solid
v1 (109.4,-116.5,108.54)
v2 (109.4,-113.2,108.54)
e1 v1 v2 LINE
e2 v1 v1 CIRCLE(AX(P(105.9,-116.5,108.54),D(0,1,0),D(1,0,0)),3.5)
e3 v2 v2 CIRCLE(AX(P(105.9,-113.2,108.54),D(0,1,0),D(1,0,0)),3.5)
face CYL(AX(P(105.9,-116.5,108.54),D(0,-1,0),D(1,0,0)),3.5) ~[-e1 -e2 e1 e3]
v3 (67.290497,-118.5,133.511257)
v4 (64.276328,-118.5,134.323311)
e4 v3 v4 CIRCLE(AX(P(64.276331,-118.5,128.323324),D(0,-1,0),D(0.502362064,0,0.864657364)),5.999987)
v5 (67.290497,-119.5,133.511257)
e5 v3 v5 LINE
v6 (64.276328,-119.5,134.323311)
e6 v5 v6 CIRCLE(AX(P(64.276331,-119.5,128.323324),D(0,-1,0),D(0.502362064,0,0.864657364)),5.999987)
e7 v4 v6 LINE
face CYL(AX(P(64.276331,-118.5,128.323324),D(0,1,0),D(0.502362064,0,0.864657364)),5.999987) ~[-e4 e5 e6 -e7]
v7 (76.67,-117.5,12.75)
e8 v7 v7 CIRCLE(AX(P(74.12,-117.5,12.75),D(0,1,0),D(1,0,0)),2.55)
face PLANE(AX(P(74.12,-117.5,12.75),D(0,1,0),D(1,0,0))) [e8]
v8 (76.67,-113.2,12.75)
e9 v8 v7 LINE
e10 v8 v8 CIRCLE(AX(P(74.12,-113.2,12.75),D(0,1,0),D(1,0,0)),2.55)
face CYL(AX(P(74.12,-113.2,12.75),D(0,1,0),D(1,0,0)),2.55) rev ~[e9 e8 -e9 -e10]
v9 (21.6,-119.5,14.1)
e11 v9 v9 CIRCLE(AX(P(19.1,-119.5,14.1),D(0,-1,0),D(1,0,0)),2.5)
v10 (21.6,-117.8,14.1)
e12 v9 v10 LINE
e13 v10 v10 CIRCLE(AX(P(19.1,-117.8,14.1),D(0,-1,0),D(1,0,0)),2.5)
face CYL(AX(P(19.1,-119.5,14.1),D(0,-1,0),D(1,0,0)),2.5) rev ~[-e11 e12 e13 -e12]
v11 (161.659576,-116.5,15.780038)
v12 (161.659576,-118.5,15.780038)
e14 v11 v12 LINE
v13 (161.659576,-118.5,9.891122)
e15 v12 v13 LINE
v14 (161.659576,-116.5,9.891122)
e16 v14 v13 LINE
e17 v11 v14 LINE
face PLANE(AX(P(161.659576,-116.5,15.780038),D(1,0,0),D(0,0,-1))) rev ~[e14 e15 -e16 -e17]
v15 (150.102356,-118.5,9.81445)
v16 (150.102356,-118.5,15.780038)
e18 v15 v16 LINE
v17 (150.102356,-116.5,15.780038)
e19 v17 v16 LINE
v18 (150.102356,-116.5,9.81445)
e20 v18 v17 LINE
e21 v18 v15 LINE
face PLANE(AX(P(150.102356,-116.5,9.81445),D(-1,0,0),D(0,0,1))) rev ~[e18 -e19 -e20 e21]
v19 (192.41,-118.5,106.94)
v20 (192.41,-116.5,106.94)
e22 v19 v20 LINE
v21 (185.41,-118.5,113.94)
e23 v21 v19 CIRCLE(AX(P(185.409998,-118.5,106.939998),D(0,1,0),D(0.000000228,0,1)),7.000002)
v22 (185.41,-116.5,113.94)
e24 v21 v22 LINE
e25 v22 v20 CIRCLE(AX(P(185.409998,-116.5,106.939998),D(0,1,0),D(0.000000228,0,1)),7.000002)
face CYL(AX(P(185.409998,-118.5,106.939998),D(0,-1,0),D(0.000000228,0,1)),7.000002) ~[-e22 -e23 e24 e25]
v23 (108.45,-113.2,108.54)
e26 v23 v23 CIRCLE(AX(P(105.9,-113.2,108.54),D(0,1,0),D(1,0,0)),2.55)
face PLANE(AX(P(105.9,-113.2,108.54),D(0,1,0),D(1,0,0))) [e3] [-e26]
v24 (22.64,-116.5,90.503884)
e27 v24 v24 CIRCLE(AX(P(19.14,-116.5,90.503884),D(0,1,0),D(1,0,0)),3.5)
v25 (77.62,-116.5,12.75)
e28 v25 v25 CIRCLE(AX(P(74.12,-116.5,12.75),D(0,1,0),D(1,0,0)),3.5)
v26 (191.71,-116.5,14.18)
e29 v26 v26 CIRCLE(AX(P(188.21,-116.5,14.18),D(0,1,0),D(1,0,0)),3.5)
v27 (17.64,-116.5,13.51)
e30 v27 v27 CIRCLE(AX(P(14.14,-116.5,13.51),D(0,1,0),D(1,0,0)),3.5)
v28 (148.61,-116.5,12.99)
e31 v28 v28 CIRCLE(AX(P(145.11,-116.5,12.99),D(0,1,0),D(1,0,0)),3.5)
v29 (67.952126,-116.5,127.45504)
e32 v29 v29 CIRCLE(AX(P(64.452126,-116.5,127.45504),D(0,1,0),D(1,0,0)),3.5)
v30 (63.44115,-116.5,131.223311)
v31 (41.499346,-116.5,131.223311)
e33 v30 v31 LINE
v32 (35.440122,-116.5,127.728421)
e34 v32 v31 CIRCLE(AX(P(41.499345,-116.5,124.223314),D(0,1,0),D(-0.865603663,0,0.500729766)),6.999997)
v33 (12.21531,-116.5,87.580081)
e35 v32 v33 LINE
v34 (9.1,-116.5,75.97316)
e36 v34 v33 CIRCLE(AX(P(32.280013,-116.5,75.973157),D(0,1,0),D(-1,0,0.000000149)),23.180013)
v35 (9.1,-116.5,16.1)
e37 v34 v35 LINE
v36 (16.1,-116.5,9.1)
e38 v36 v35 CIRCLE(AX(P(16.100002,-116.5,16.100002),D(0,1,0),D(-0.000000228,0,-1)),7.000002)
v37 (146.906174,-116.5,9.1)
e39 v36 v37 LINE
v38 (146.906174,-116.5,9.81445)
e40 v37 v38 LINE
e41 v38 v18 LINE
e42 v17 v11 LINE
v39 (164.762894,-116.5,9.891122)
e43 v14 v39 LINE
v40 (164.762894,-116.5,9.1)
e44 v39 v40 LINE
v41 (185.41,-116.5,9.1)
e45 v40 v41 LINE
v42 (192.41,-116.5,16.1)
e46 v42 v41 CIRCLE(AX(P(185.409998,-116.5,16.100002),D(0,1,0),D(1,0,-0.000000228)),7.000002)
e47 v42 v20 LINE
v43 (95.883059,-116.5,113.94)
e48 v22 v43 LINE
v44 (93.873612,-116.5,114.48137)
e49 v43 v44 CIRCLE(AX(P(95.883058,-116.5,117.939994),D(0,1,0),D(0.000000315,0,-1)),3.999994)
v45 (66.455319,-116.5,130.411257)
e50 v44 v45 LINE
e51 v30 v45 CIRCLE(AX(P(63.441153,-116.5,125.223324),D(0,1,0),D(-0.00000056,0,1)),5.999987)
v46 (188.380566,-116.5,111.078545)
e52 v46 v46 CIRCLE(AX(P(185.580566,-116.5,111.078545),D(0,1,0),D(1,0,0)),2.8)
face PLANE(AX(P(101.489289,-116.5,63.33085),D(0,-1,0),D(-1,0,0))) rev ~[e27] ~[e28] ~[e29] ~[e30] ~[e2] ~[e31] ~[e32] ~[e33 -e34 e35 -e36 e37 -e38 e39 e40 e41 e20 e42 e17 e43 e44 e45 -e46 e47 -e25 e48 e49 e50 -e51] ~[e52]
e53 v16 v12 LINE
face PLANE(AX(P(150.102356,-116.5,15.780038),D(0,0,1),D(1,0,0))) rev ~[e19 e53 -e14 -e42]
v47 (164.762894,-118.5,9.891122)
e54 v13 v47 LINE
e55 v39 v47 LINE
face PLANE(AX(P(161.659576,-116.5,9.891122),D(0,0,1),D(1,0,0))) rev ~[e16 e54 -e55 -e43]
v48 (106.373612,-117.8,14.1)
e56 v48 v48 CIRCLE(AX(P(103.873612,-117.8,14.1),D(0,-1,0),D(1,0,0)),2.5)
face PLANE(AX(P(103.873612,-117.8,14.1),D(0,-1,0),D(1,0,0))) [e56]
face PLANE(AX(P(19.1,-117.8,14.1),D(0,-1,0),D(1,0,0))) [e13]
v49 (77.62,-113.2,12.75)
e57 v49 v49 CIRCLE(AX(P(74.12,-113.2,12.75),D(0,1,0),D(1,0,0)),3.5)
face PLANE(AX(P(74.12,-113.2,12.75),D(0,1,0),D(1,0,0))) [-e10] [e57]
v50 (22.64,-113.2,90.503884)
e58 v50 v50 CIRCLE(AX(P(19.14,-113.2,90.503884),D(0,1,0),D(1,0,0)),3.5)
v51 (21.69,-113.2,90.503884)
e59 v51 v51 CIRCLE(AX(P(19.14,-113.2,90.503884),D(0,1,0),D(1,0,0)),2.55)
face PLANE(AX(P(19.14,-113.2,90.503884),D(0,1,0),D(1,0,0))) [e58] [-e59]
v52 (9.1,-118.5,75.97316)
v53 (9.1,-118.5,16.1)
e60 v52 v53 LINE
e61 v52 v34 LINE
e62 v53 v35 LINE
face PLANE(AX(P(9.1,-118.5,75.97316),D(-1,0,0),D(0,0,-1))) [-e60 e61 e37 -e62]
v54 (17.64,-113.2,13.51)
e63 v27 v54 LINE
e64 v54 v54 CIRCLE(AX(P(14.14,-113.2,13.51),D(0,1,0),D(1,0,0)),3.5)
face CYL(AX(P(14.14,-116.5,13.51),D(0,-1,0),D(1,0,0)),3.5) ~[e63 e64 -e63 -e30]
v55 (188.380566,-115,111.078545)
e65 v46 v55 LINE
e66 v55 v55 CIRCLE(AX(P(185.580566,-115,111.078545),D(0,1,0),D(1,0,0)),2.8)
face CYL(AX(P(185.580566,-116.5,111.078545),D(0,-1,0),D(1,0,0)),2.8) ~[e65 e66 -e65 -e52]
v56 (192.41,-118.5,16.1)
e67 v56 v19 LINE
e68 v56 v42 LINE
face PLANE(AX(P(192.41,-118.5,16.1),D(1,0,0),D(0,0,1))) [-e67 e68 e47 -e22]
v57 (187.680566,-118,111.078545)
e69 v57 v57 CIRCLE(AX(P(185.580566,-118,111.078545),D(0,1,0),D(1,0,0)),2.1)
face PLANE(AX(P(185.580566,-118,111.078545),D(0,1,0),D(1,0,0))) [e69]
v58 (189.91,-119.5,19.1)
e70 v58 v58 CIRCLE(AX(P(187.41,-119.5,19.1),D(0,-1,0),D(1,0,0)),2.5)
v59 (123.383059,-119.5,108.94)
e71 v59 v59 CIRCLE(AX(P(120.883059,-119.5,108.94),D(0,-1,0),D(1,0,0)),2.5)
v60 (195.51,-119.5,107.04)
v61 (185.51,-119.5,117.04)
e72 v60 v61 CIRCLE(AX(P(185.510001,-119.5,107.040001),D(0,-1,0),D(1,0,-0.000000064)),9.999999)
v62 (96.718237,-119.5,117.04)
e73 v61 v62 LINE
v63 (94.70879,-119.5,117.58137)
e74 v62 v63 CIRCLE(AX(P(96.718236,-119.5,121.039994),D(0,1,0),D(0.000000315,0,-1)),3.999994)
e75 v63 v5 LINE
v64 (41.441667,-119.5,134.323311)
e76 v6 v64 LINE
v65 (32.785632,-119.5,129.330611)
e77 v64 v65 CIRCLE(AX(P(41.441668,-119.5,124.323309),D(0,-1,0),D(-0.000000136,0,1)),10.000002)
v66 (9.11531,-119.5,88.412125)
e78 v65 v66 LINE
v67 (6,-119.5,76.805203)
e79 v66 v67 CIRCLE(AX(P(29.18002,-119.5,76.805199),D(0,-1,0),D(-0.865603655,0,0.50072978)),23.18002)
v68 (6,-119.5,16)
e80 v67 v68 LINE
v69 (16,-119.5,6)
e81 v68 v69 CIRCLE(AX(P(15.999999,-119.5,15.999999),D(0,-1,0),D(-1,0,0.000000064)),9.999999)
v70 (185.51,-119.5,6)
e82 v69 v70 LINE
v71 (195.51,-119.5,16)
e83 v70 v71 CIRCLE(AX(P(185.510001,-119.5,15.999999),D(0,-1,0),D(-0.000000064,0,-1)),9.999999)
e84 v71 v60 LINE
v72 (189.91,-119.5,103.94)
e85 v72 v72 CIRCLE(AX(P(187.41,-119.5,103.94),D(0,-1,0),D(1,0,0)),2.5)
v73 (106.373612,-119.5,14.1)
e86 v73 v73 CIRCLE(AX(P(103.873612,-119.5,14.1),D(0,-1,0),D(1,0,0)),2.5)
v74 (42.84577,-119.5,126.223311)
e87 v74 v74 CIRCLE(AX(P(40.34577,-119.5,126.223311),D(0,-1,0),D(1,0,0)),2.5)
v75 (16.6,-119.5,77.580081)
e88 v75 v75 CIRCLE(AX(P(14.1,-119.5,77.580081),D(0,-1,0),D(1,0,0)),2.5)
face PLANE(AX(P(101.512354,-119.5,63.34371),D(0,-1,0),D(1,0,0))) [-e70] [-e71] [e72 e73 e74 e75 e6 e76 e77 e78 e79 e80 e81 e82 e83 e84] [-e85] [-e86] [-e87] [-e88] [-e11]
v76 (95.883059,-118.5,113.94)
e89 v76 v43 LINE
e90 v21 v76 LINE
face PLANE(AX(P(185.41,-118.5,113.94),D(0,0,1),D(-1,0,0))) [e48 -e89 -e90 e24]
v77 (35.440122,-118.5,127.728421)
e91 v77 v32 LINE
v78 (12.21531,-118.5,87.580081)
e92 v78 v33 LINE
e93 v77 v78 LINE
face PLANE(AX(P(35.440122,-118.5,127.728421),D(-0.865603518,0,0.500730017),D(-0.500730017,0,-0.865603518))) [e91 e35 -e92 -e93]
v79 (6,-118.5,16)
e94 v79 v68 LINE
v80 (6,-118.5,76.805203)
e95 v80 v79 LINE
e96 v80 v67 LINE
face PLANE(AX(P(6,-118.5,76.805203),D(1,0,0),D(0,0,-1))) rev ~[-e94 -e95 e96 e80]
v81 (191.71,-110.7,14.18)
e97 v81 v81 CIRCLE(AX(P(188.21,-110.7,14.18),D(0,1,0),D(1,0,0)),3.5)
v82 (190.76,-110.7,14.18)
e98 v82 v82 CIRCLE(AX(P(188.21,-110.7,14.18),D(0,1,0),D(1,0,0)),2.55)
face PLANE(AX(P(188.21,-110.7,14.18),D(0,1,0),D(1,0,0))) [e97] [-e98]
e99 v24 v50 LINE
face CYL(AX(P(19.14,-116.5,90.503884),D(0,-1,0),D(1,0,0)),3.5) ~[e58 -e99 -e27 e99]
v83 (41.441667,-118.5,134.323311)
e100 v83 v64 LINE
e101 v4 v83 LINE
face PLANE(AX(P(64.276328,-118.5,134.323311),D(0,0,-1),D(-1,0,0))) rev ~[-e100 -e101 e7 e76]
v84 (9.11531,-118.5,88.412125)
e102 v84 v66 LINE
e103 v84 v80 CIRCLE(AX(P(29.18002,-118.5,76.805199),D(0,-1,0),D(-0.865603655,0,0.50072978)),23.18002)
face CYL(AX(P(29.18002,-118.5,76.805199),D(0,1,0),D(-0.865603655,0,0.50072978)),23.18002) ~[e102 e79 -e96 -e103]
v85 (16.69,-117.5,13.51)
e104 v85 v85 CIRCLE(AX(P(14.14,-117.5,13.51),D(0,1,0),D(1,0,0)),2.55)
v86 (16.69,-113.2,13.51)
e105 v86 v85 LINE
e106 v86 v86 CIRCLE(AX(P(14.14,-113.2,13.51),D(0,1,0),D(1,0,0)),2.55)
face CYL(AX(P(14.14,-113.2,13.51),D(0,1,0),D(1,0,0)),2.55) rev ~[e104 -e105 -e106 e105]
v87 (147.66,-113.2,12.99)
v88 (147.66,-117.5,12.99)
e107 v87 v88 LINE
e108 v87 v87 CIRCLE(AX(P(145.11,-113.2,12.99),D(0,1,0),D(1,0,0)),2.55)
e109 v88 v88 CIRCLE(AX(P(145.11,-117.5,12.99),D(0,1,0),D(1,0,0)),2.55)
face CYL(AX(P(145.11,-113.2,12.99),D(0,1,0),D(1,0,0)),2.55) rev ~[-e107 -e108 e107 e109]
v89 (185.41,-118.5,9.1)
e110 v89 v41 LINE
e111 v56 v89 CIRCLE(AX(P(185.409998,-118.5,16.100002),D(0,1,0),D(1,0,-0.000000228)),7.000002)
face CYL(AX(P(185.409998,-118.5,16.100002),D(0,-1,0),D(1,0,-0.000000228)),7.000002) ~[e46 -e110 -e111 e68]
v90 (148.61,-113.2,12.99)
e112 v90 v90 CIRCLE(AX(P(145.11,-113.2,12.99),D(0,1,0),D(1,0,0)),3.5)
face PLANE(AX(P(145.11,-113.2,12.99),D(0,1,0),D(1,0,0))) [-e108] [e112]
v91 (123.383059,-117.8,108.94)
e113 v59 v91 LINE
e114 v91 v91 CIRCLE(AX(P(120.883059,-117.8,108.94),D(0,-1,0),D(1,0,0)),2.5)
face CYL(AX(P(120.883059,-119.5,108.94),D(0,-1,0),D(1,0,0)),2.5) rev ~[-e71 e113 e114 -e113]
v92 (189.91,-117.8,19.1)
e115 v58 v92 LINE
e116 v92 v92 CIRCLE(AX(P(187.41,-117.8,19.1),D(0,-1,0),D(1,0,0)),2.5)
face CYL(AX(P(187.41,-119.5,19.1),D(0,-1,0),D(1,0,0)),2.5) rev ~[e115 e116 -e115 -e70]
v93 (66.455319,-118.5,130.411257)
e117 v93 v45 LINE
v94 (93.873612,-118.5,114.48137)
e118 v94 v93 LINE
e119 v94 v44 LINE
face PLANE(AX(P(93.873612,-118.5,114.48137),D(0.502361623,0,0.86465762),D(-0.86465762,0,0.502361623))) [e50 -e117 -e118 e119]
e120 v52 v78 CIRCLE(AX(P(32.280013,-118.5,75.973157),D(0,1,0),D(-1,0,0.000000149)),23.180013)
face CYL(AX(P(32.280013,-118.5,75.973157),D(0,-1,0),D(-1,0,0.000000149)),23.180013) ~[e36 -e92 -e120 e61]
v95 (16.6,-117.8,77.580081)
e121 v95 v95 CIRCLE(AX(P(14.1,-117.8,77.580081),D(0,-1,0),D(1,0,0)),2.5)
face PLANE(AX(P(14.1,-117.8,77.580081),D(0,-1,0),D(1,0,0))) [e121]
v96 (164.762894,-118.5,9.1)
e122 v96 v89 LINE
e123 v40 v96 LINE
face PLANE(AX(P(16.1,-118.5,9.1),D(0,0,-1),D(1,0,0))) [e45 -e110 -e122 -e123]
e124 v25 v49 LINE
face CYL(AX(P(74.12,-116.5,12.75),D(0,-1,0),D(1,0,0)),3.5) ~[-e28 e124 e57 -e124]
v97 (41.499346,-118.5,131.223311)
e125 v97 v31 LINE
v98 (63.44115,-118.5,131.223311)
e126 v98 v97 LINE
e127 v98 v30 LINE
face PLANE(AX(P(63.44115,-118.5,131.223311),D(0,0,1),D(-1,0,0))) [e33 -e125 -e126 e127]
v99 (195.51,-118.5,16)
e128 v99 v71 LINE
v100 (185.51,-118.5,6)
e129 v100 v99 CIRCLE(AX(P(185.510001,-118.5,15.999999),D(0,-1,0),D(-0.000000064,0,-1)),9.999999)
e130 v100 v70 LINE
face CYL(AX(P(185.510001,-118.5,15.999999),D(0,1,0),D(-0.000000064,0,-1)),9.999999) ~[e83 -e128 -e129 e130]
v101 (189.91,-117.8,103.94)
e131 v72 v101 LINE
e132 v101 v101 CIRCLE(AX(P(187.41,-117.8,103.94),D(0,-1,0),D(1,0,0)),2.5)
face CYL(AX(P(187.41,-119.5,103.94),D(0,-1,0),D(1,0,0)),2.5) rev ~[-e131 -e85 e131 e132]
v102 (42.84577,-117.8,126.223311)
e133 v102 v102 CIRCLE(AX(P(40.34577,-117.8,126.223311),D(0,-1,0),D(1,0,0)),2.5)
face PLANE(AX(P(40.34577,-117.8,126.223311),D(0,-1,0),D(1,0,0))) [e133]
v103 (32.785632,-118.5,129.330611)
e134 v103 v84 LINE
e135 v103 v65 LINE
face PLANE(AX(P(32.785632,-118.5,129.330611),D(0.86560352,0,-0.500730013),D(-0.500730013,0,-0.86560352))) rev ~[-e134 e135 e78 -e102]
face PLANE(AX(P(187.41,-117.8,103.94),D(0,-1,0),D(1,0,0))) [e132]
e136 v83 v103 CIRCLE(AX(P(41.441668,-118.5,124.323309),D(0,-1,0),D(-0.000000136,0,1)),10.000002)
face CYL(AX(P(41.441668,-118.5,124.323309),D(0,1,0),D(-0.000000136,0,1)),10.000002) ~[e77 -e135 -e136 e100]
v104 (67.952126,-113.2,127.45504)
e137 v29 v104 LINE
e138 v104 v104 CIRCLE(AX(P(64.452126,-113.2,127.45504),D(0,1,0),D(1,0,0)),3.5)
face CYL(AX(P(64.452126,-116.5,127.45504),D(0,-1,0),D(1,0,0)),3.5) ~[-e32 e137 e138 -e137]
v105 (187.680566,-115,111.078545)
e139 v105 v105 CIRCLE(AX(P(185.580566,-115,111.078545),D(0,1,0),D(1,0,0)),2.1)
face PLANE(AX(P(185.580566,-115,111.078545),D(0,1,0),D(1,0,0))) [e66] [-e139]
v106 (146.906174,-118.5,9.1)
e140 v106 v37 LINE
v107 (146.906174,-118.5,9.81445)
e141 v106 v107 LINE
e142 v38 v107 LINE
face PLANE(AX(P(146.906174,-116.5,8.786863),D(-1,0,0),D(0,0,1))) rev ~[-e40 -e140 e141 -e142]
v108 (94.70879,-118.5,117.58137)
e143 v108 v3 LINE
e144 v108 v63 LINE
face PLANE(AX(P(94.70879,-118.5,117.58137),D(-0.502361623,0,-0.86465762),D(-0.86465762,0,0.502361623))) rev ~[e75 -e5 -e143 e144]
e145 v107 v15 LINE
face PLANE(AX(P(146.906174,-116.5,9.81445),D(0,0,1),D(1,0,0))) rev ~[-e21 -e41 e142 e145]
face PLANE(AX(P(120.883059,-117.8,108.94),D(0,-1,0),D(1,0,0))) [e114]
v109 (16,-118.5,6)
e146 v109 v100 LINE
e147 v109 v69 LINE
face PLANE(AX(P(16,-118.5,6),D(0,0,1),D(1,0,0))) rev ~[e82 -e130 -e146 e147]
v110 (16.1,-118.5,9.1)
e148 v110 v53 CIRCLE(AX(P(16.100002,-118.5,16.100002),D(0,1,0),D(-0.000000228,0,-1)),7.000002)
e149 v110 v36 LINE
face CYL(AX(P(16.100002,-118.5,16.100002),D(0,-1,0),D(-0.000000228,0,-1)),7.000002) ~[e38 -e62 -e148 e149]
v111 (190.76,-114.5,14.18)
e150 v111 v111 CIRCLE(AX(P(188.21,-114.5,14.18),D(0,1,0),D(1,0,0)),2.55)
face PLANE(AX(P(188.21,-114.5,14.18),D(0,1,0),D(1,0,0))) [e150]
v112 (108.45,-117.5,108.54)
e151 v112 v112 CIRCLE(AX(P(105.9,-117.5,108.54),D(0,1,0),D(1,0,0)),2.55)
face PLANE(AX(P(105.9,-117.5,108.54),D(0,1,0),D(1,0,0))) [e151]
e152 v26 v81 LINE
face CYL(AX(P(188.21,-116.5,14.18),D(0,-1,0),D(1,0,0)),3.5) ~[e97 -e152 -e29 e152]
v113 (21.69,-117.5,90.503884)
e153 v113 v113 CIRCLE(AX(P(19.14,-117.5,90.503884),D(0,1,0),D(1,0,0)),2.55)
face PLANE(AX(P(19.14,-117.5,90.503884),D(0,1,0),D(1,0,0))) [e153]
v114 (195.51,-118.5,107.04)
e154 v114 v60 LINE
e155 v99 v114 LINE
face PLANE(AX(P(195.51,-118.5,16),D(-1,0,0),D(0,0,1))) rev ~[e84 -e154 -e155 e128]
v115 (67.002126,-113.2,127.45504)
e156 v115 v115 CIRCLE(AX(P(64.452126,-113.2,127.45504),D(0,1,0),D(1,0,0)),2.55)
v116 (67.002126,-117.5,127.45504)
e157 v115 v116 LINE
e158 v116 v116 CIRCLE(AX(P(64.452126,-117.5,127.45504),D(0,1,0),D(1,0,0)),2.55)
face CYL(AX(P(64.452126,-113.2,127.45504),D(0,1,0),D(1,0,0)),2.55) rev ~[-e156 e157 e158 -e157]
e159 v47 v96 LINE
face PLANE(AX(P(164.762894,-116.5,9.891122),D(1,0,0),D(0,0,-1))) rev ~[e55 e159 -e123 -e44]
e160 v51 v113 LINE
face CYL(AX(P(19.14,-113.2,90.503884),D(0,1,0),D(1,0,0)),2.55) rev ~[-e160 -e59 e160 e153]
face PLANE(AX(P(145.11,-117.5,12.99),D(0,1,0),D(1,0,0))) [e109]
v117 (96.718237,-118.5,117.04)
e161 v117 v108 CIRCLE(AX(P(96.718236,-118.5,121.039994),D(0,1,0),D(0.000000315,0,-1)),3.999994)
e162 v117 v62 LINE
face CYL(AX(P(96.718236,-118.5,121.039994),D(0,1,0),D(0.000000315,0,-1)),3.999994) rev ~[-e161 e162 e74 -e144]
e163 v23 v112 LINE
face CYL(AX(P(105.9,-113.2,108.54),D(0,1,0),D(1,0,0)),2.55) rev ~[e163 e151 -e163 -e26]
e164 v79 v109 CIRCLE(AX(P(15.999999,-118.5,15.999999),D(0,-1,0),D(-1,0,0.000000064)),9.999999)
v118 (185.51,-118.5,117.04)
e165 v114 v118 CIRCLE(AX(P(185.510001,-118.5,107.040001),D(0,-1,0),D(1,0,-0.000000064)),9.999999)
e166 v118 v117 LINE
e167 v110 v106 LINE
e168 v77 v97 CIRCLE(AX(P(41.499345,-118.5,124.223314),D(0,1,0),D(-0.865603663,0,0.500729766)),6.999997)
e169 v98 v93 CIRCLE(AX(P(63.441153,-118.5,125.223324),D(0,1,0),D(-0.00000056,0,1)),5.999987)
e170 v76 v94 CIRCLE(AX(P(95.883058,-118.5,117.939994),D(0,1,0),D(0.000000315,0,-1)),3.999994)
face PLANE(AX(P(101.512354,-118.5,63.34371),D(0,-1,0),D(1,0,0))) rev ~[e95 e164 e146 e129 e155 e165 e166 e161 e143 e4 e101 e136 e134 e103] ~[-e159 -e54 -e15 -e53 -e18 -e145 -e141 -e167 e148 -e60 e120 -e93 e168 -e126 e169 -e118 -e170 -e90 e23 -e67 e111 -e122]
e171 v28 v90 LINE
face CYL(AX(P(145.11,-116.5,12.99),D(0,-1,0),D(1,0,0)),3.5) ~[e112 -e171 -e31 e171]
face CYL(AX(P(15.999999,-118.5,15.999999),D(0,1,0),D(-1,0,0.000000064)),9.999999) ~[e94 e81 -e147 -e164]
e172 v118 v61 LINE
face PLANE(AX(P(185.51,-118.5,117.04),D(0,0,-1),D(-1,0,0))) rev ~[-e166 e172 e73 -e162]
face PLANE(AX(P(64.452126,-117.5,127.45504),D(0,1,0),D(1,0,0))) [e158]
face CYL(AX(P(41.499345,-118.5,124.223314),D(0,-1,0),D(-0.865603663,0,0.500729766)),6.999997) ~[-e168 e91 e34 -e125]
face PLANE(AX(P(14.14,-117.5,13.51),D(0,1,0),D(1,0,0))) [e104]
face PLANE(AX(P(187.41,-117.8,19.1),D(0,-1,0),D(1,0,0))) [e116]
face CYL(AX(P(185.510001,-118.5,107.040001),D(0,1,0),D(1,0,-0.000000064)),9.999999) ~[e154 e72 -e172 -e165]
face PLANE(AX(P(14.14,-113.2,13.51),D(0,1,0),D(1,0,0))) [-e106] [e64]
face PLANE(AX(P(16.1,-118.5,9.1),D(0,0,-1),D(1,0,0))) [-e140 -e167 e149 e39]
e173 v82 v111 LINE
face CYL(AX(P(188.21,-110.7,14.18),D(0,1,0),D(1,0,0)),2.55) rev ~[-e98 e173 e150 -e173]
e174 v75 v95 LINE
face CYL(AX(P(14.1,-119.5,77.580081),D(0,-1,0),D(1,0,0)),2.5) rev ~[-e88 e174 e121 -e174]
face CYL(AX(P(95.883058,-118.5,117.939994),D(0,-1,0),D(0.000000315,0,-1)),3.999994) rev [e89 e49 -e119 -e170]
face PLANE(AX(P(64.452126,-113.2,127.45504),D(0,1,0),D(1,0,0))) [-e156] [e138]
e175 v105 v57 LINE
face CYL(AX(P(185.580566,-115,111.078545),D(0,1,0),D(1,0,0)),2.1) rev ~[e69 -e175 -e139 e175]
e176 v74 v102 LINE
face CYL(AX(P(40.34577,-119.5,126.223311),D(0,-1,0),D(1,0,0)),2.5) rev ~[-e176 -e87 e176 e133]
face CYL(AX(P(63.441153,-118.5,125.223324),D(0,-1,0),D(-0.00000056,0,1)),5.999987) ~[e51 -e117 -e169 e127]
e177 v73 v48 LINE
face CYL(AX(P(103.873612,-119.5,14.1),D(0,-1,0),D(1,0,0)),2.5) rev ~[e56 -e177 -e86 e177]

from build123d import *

# Parameters (mm, degrees)
PAD017_DEPTH    = 1
PAD018_DEPTH    = 2
SKETCH041_R     = 3.5
PAD019_DEPTH    = 3.3
SKETCH042_R     = 2.55
POCKET018_DEPTH = 4.3
SKETCH043_R     = 2.8
PAD020_DEPTH    = 1.5
SKETCH044_R     = 2.1
POCKET019_DEPTH = 3
SKETCH045_R     = 3.5
PAD021_DEPTH    = 5.8
SKETCH046_R     = 2.55
POCKET020_DEPTH = 3.8
SKETCH047_R     = 2.5
POCKET021_DEPTH = 1.7
POCKET025_DEPTH = 2


with BuildPart() as part:
    # Sketch038 → Pad017 (new body)
    with BuildSketch(Plane.XZ):
        with BuildLine():
            ThreePointArc((6, 16), (8.928932, 8.928932), (16, 6))
            Line((16, 6), (185.51, 6))
            ThreePointArc((185.51, 6), (192.581068, 8.928932), (195.51, 16))
            Line((195.51, 16), (195.51, 107.04))
            ThreePointArc((195.51, 107.04), (192.581068, 114.111068), (185.51, 117.04))
            Line((185.51, 117.04), (96.718237, 117.04))
            ThreePointArc((96.718237, 117.04), (95.677689, 117.177713), (94.70879, 117.58137))
            Line((94.70879, 117.58137), (67.290497, 133.511257))
            ThreePointArc((67.290497, 133.511257), (65.837149, 134.116742), (64.276328, 134.323311))
            Line((64.276328, 134.323311), (41.441667, 134.323311))
            ThreePointArc((41.441667, 134.323311), (36.445319, 132.985672), (32.785632, 129.330611))
            Line((32.785632, 129.330611), (9.11531, 88.412125))
            ThreePointArc((9.11531, 88.412125), (6.792371, 82.814067), (6, 76.805203))
            Line((6, 76.805203), (6, 16))
        make_face()
    extrude(amount=PAD017_DEPTH)

    # Sketch040 (on Face15 of Pad017) → Pad018 (join)
    with BuildSketch(Plane(origin=(0, 0, 0), x_dir=(1, 0, 0), z_dir=(0, 1, 0))):
        with BuildLine():
            Line((16.1, -9.1), (185.41, -9.1))
            ThreePointArc((192.41, -16.1), (190.359747, -11.150253), (185.41, -9.1))
            Line((192.41, -16.1), (192.41, -106.94))
            ThreePointArc((185.41, -113.94), (190.359747, -111.889747), (192.41, -106.94))
            Line((185.41, -113.94), (95.883059, -113.94))
            ThreePointArc((95.883059, -113.94), (94.842511, -114.077713), (93.873612, -114.48137))
            Line((93.873612, -114.48137), (66.455319, -130.411257))
            ThreePointArc((63.44115, -131.223311), (65.001971, -131.016742), (66.455319, -130.411257))
            Line((63.44115, -131.223311), (41.499346, -131.223311))
            ThreePointArc((35.440122, -127.728421), (38.001902, -130.286964), (41.499346, -131.223311))
            Line((35.440122, -127.728421), (12.21531, -87.580081))
            ThreePointArc((9.1, -75.97316), (9.892371, -81.982024), (12.21531, -87.580081))
            Line((9.1, -75.97316), (9.1, -16.1))
            ThreePointArc((16.1, -9.1), (11.150253, -11.150253), (9.1, -16.1))
        make_face()
    extrude(amount=PAD018_DEPTH)

    # Sketch041 (on Face31 of Pad018) → Pad019 (join)
    with BuildSketch(Plane(origin=(0, 2, 0), x_dir=(1, 0, 0), z_dir=(0, 1, 0))):
        with Locations((145.11, -12.99)):
            Circle(SKETCH041_R)
        with Locations((64.452126, -127.45504)):
            Circle(SKETCH041_R)
        with Locations((14.14, -13.51)):
            Circle(SKETCH041_R)
        with Locations((19.14, -90.503884)):
            Circle(SKETCH041_R)
        with Locations((105.9, -108.54)):
            Circle(SKETCH041_R)
        with Locations((74.12, -12.75)):
            Circle(SKETCH041_R)
    extrude(amount=PAD019_DEPTH)

    # Sketch042 (on Face38 of Pad019) → Pocket018 (cut)
    with BuildSketch(Plane(origin=(0, 5.3, 0), x_dir=(1, 0, 0), z_dir=(0, 1, 0))):
        with Locations((145.11, -12.99)):
            Circle(SKETCH042_R)
        with Locations((19.14, -90.503884)):
            Circle(SKETCH042_R)
        with Locations((64.452126, -127.45504)):
            Circle(SKETCH042_R)
        with Locations((105.9, -108.54)):
            Circle(SKETCH042_R)
        with Locations((14.14, -13.51)):
            Circle(SKETCH042_R)
        with Locations((74.12, -12.75)):
            Circle(SKETCH042_R)
    extrude(amount=-POCKET018_DEPTH, mode=Mode.SUBTRACT)

    # Sketch043 (on Face31 of Pocket018) → Pad020 (join)
    with BuildSketch(Plane(origin=(0, 2, 0), x_dir=(1, 0, 0), z_dir=(0, 1, 0))):
        with Locations((185.580566, -111.078545)):
            Circle(SKETCH043_R)
    extrude(amount=PAD020_DEPTH)

    # Sketch044 (on Face45 of Pad020) → Pocket019 (cut)
    with BuildSketch(Plane(origin=(0, 3.5, 0), x_dir=(1, 0, 0), z_dir=(0, 1, 0))):
        with Locations((185.580566, -111.078545)):
            Circle(SKETCH044_R)
    extrude(amount=-POCKET019_DEPTH, mode=Mode.SUBTRACT)

    # Sketch045 (on Face31 of Pocket019) → Pad021 (join)
    with BuildSketch(Plane(origin=(0, 2, 0), x_dir=(1, 0, 0), z_dir=(0, 1, 0))):
        with Locations((188.21, -14.18)):
            Circle(SKETCH045_R)
    extrude(amount=PAD021_DEPTH)

    # Sketch046 (on Face45 of Pad021) → Pocket020 (cut)
    with BuildSketch(Plane(origin=(0, 7.8, 0), x_dir=(1, 0, 0), z_dir=(0, 1, 0))):
        with Locations((188.21, -14.18)):
            Circle(SKETCH046_R)
    extrude(amount=-POCKET020_DEPTH, mode=Mode.SUBTRACT)

    # Sketch047 (on Face5 of Pocket020) → Pocket021 (cut)
    with BuildSketch(Plane.XZ.offset(1)):
        with Locations((187.41, 103.94)):
            Circle(SKETCH047_R)
        with Locations((40.34577, 126.223311)):
            Circle(SKETCH047_R)
        with Locations((14.1, 77.580081)):
            Circle(SKETCH047_R)
        with Locations((103.873612, 14.1)):
            Circle(SKETCH047_R)
        with Locations((187.41, 19.1)):
            Circle(SKETCH047_R)
        with Locations((120.883059, 108.94)):
            Circle(SKETCH047_R)
        with Locations((19.1, 14.1)):
            Circle(SKETCH047_R)
    extrude(amount=-POCKET021_DEPTH, mode=Mode.SUBTRACT)

    # Sketch056 (on Face38 of Pocket021) → Pocket025 (cut)
    with BuildSketch(Plane(origin=(0, 2, 0), x_dir=(1, 0, 0), z_dir=(0, 1, 0))):
        Polygon((146.906174, -8.786863), (146.906174, -9.81445), (150.102356, -9.81445), (150.102356, -15.780038), (161.659576, -15.780038), (161.659576, -9.891122), (164.762894, -9.891122), (164.762894, -8.786863), align=None)
    extrude(amount=-POCKET025_DEPTH, mode=Mode.SUBTRACT)


with BuildPart() as part_1:
    # Body004 placement: moved
    add(part.part.moved(Location((0, -118.5, 0))))


solid = part_1.part
